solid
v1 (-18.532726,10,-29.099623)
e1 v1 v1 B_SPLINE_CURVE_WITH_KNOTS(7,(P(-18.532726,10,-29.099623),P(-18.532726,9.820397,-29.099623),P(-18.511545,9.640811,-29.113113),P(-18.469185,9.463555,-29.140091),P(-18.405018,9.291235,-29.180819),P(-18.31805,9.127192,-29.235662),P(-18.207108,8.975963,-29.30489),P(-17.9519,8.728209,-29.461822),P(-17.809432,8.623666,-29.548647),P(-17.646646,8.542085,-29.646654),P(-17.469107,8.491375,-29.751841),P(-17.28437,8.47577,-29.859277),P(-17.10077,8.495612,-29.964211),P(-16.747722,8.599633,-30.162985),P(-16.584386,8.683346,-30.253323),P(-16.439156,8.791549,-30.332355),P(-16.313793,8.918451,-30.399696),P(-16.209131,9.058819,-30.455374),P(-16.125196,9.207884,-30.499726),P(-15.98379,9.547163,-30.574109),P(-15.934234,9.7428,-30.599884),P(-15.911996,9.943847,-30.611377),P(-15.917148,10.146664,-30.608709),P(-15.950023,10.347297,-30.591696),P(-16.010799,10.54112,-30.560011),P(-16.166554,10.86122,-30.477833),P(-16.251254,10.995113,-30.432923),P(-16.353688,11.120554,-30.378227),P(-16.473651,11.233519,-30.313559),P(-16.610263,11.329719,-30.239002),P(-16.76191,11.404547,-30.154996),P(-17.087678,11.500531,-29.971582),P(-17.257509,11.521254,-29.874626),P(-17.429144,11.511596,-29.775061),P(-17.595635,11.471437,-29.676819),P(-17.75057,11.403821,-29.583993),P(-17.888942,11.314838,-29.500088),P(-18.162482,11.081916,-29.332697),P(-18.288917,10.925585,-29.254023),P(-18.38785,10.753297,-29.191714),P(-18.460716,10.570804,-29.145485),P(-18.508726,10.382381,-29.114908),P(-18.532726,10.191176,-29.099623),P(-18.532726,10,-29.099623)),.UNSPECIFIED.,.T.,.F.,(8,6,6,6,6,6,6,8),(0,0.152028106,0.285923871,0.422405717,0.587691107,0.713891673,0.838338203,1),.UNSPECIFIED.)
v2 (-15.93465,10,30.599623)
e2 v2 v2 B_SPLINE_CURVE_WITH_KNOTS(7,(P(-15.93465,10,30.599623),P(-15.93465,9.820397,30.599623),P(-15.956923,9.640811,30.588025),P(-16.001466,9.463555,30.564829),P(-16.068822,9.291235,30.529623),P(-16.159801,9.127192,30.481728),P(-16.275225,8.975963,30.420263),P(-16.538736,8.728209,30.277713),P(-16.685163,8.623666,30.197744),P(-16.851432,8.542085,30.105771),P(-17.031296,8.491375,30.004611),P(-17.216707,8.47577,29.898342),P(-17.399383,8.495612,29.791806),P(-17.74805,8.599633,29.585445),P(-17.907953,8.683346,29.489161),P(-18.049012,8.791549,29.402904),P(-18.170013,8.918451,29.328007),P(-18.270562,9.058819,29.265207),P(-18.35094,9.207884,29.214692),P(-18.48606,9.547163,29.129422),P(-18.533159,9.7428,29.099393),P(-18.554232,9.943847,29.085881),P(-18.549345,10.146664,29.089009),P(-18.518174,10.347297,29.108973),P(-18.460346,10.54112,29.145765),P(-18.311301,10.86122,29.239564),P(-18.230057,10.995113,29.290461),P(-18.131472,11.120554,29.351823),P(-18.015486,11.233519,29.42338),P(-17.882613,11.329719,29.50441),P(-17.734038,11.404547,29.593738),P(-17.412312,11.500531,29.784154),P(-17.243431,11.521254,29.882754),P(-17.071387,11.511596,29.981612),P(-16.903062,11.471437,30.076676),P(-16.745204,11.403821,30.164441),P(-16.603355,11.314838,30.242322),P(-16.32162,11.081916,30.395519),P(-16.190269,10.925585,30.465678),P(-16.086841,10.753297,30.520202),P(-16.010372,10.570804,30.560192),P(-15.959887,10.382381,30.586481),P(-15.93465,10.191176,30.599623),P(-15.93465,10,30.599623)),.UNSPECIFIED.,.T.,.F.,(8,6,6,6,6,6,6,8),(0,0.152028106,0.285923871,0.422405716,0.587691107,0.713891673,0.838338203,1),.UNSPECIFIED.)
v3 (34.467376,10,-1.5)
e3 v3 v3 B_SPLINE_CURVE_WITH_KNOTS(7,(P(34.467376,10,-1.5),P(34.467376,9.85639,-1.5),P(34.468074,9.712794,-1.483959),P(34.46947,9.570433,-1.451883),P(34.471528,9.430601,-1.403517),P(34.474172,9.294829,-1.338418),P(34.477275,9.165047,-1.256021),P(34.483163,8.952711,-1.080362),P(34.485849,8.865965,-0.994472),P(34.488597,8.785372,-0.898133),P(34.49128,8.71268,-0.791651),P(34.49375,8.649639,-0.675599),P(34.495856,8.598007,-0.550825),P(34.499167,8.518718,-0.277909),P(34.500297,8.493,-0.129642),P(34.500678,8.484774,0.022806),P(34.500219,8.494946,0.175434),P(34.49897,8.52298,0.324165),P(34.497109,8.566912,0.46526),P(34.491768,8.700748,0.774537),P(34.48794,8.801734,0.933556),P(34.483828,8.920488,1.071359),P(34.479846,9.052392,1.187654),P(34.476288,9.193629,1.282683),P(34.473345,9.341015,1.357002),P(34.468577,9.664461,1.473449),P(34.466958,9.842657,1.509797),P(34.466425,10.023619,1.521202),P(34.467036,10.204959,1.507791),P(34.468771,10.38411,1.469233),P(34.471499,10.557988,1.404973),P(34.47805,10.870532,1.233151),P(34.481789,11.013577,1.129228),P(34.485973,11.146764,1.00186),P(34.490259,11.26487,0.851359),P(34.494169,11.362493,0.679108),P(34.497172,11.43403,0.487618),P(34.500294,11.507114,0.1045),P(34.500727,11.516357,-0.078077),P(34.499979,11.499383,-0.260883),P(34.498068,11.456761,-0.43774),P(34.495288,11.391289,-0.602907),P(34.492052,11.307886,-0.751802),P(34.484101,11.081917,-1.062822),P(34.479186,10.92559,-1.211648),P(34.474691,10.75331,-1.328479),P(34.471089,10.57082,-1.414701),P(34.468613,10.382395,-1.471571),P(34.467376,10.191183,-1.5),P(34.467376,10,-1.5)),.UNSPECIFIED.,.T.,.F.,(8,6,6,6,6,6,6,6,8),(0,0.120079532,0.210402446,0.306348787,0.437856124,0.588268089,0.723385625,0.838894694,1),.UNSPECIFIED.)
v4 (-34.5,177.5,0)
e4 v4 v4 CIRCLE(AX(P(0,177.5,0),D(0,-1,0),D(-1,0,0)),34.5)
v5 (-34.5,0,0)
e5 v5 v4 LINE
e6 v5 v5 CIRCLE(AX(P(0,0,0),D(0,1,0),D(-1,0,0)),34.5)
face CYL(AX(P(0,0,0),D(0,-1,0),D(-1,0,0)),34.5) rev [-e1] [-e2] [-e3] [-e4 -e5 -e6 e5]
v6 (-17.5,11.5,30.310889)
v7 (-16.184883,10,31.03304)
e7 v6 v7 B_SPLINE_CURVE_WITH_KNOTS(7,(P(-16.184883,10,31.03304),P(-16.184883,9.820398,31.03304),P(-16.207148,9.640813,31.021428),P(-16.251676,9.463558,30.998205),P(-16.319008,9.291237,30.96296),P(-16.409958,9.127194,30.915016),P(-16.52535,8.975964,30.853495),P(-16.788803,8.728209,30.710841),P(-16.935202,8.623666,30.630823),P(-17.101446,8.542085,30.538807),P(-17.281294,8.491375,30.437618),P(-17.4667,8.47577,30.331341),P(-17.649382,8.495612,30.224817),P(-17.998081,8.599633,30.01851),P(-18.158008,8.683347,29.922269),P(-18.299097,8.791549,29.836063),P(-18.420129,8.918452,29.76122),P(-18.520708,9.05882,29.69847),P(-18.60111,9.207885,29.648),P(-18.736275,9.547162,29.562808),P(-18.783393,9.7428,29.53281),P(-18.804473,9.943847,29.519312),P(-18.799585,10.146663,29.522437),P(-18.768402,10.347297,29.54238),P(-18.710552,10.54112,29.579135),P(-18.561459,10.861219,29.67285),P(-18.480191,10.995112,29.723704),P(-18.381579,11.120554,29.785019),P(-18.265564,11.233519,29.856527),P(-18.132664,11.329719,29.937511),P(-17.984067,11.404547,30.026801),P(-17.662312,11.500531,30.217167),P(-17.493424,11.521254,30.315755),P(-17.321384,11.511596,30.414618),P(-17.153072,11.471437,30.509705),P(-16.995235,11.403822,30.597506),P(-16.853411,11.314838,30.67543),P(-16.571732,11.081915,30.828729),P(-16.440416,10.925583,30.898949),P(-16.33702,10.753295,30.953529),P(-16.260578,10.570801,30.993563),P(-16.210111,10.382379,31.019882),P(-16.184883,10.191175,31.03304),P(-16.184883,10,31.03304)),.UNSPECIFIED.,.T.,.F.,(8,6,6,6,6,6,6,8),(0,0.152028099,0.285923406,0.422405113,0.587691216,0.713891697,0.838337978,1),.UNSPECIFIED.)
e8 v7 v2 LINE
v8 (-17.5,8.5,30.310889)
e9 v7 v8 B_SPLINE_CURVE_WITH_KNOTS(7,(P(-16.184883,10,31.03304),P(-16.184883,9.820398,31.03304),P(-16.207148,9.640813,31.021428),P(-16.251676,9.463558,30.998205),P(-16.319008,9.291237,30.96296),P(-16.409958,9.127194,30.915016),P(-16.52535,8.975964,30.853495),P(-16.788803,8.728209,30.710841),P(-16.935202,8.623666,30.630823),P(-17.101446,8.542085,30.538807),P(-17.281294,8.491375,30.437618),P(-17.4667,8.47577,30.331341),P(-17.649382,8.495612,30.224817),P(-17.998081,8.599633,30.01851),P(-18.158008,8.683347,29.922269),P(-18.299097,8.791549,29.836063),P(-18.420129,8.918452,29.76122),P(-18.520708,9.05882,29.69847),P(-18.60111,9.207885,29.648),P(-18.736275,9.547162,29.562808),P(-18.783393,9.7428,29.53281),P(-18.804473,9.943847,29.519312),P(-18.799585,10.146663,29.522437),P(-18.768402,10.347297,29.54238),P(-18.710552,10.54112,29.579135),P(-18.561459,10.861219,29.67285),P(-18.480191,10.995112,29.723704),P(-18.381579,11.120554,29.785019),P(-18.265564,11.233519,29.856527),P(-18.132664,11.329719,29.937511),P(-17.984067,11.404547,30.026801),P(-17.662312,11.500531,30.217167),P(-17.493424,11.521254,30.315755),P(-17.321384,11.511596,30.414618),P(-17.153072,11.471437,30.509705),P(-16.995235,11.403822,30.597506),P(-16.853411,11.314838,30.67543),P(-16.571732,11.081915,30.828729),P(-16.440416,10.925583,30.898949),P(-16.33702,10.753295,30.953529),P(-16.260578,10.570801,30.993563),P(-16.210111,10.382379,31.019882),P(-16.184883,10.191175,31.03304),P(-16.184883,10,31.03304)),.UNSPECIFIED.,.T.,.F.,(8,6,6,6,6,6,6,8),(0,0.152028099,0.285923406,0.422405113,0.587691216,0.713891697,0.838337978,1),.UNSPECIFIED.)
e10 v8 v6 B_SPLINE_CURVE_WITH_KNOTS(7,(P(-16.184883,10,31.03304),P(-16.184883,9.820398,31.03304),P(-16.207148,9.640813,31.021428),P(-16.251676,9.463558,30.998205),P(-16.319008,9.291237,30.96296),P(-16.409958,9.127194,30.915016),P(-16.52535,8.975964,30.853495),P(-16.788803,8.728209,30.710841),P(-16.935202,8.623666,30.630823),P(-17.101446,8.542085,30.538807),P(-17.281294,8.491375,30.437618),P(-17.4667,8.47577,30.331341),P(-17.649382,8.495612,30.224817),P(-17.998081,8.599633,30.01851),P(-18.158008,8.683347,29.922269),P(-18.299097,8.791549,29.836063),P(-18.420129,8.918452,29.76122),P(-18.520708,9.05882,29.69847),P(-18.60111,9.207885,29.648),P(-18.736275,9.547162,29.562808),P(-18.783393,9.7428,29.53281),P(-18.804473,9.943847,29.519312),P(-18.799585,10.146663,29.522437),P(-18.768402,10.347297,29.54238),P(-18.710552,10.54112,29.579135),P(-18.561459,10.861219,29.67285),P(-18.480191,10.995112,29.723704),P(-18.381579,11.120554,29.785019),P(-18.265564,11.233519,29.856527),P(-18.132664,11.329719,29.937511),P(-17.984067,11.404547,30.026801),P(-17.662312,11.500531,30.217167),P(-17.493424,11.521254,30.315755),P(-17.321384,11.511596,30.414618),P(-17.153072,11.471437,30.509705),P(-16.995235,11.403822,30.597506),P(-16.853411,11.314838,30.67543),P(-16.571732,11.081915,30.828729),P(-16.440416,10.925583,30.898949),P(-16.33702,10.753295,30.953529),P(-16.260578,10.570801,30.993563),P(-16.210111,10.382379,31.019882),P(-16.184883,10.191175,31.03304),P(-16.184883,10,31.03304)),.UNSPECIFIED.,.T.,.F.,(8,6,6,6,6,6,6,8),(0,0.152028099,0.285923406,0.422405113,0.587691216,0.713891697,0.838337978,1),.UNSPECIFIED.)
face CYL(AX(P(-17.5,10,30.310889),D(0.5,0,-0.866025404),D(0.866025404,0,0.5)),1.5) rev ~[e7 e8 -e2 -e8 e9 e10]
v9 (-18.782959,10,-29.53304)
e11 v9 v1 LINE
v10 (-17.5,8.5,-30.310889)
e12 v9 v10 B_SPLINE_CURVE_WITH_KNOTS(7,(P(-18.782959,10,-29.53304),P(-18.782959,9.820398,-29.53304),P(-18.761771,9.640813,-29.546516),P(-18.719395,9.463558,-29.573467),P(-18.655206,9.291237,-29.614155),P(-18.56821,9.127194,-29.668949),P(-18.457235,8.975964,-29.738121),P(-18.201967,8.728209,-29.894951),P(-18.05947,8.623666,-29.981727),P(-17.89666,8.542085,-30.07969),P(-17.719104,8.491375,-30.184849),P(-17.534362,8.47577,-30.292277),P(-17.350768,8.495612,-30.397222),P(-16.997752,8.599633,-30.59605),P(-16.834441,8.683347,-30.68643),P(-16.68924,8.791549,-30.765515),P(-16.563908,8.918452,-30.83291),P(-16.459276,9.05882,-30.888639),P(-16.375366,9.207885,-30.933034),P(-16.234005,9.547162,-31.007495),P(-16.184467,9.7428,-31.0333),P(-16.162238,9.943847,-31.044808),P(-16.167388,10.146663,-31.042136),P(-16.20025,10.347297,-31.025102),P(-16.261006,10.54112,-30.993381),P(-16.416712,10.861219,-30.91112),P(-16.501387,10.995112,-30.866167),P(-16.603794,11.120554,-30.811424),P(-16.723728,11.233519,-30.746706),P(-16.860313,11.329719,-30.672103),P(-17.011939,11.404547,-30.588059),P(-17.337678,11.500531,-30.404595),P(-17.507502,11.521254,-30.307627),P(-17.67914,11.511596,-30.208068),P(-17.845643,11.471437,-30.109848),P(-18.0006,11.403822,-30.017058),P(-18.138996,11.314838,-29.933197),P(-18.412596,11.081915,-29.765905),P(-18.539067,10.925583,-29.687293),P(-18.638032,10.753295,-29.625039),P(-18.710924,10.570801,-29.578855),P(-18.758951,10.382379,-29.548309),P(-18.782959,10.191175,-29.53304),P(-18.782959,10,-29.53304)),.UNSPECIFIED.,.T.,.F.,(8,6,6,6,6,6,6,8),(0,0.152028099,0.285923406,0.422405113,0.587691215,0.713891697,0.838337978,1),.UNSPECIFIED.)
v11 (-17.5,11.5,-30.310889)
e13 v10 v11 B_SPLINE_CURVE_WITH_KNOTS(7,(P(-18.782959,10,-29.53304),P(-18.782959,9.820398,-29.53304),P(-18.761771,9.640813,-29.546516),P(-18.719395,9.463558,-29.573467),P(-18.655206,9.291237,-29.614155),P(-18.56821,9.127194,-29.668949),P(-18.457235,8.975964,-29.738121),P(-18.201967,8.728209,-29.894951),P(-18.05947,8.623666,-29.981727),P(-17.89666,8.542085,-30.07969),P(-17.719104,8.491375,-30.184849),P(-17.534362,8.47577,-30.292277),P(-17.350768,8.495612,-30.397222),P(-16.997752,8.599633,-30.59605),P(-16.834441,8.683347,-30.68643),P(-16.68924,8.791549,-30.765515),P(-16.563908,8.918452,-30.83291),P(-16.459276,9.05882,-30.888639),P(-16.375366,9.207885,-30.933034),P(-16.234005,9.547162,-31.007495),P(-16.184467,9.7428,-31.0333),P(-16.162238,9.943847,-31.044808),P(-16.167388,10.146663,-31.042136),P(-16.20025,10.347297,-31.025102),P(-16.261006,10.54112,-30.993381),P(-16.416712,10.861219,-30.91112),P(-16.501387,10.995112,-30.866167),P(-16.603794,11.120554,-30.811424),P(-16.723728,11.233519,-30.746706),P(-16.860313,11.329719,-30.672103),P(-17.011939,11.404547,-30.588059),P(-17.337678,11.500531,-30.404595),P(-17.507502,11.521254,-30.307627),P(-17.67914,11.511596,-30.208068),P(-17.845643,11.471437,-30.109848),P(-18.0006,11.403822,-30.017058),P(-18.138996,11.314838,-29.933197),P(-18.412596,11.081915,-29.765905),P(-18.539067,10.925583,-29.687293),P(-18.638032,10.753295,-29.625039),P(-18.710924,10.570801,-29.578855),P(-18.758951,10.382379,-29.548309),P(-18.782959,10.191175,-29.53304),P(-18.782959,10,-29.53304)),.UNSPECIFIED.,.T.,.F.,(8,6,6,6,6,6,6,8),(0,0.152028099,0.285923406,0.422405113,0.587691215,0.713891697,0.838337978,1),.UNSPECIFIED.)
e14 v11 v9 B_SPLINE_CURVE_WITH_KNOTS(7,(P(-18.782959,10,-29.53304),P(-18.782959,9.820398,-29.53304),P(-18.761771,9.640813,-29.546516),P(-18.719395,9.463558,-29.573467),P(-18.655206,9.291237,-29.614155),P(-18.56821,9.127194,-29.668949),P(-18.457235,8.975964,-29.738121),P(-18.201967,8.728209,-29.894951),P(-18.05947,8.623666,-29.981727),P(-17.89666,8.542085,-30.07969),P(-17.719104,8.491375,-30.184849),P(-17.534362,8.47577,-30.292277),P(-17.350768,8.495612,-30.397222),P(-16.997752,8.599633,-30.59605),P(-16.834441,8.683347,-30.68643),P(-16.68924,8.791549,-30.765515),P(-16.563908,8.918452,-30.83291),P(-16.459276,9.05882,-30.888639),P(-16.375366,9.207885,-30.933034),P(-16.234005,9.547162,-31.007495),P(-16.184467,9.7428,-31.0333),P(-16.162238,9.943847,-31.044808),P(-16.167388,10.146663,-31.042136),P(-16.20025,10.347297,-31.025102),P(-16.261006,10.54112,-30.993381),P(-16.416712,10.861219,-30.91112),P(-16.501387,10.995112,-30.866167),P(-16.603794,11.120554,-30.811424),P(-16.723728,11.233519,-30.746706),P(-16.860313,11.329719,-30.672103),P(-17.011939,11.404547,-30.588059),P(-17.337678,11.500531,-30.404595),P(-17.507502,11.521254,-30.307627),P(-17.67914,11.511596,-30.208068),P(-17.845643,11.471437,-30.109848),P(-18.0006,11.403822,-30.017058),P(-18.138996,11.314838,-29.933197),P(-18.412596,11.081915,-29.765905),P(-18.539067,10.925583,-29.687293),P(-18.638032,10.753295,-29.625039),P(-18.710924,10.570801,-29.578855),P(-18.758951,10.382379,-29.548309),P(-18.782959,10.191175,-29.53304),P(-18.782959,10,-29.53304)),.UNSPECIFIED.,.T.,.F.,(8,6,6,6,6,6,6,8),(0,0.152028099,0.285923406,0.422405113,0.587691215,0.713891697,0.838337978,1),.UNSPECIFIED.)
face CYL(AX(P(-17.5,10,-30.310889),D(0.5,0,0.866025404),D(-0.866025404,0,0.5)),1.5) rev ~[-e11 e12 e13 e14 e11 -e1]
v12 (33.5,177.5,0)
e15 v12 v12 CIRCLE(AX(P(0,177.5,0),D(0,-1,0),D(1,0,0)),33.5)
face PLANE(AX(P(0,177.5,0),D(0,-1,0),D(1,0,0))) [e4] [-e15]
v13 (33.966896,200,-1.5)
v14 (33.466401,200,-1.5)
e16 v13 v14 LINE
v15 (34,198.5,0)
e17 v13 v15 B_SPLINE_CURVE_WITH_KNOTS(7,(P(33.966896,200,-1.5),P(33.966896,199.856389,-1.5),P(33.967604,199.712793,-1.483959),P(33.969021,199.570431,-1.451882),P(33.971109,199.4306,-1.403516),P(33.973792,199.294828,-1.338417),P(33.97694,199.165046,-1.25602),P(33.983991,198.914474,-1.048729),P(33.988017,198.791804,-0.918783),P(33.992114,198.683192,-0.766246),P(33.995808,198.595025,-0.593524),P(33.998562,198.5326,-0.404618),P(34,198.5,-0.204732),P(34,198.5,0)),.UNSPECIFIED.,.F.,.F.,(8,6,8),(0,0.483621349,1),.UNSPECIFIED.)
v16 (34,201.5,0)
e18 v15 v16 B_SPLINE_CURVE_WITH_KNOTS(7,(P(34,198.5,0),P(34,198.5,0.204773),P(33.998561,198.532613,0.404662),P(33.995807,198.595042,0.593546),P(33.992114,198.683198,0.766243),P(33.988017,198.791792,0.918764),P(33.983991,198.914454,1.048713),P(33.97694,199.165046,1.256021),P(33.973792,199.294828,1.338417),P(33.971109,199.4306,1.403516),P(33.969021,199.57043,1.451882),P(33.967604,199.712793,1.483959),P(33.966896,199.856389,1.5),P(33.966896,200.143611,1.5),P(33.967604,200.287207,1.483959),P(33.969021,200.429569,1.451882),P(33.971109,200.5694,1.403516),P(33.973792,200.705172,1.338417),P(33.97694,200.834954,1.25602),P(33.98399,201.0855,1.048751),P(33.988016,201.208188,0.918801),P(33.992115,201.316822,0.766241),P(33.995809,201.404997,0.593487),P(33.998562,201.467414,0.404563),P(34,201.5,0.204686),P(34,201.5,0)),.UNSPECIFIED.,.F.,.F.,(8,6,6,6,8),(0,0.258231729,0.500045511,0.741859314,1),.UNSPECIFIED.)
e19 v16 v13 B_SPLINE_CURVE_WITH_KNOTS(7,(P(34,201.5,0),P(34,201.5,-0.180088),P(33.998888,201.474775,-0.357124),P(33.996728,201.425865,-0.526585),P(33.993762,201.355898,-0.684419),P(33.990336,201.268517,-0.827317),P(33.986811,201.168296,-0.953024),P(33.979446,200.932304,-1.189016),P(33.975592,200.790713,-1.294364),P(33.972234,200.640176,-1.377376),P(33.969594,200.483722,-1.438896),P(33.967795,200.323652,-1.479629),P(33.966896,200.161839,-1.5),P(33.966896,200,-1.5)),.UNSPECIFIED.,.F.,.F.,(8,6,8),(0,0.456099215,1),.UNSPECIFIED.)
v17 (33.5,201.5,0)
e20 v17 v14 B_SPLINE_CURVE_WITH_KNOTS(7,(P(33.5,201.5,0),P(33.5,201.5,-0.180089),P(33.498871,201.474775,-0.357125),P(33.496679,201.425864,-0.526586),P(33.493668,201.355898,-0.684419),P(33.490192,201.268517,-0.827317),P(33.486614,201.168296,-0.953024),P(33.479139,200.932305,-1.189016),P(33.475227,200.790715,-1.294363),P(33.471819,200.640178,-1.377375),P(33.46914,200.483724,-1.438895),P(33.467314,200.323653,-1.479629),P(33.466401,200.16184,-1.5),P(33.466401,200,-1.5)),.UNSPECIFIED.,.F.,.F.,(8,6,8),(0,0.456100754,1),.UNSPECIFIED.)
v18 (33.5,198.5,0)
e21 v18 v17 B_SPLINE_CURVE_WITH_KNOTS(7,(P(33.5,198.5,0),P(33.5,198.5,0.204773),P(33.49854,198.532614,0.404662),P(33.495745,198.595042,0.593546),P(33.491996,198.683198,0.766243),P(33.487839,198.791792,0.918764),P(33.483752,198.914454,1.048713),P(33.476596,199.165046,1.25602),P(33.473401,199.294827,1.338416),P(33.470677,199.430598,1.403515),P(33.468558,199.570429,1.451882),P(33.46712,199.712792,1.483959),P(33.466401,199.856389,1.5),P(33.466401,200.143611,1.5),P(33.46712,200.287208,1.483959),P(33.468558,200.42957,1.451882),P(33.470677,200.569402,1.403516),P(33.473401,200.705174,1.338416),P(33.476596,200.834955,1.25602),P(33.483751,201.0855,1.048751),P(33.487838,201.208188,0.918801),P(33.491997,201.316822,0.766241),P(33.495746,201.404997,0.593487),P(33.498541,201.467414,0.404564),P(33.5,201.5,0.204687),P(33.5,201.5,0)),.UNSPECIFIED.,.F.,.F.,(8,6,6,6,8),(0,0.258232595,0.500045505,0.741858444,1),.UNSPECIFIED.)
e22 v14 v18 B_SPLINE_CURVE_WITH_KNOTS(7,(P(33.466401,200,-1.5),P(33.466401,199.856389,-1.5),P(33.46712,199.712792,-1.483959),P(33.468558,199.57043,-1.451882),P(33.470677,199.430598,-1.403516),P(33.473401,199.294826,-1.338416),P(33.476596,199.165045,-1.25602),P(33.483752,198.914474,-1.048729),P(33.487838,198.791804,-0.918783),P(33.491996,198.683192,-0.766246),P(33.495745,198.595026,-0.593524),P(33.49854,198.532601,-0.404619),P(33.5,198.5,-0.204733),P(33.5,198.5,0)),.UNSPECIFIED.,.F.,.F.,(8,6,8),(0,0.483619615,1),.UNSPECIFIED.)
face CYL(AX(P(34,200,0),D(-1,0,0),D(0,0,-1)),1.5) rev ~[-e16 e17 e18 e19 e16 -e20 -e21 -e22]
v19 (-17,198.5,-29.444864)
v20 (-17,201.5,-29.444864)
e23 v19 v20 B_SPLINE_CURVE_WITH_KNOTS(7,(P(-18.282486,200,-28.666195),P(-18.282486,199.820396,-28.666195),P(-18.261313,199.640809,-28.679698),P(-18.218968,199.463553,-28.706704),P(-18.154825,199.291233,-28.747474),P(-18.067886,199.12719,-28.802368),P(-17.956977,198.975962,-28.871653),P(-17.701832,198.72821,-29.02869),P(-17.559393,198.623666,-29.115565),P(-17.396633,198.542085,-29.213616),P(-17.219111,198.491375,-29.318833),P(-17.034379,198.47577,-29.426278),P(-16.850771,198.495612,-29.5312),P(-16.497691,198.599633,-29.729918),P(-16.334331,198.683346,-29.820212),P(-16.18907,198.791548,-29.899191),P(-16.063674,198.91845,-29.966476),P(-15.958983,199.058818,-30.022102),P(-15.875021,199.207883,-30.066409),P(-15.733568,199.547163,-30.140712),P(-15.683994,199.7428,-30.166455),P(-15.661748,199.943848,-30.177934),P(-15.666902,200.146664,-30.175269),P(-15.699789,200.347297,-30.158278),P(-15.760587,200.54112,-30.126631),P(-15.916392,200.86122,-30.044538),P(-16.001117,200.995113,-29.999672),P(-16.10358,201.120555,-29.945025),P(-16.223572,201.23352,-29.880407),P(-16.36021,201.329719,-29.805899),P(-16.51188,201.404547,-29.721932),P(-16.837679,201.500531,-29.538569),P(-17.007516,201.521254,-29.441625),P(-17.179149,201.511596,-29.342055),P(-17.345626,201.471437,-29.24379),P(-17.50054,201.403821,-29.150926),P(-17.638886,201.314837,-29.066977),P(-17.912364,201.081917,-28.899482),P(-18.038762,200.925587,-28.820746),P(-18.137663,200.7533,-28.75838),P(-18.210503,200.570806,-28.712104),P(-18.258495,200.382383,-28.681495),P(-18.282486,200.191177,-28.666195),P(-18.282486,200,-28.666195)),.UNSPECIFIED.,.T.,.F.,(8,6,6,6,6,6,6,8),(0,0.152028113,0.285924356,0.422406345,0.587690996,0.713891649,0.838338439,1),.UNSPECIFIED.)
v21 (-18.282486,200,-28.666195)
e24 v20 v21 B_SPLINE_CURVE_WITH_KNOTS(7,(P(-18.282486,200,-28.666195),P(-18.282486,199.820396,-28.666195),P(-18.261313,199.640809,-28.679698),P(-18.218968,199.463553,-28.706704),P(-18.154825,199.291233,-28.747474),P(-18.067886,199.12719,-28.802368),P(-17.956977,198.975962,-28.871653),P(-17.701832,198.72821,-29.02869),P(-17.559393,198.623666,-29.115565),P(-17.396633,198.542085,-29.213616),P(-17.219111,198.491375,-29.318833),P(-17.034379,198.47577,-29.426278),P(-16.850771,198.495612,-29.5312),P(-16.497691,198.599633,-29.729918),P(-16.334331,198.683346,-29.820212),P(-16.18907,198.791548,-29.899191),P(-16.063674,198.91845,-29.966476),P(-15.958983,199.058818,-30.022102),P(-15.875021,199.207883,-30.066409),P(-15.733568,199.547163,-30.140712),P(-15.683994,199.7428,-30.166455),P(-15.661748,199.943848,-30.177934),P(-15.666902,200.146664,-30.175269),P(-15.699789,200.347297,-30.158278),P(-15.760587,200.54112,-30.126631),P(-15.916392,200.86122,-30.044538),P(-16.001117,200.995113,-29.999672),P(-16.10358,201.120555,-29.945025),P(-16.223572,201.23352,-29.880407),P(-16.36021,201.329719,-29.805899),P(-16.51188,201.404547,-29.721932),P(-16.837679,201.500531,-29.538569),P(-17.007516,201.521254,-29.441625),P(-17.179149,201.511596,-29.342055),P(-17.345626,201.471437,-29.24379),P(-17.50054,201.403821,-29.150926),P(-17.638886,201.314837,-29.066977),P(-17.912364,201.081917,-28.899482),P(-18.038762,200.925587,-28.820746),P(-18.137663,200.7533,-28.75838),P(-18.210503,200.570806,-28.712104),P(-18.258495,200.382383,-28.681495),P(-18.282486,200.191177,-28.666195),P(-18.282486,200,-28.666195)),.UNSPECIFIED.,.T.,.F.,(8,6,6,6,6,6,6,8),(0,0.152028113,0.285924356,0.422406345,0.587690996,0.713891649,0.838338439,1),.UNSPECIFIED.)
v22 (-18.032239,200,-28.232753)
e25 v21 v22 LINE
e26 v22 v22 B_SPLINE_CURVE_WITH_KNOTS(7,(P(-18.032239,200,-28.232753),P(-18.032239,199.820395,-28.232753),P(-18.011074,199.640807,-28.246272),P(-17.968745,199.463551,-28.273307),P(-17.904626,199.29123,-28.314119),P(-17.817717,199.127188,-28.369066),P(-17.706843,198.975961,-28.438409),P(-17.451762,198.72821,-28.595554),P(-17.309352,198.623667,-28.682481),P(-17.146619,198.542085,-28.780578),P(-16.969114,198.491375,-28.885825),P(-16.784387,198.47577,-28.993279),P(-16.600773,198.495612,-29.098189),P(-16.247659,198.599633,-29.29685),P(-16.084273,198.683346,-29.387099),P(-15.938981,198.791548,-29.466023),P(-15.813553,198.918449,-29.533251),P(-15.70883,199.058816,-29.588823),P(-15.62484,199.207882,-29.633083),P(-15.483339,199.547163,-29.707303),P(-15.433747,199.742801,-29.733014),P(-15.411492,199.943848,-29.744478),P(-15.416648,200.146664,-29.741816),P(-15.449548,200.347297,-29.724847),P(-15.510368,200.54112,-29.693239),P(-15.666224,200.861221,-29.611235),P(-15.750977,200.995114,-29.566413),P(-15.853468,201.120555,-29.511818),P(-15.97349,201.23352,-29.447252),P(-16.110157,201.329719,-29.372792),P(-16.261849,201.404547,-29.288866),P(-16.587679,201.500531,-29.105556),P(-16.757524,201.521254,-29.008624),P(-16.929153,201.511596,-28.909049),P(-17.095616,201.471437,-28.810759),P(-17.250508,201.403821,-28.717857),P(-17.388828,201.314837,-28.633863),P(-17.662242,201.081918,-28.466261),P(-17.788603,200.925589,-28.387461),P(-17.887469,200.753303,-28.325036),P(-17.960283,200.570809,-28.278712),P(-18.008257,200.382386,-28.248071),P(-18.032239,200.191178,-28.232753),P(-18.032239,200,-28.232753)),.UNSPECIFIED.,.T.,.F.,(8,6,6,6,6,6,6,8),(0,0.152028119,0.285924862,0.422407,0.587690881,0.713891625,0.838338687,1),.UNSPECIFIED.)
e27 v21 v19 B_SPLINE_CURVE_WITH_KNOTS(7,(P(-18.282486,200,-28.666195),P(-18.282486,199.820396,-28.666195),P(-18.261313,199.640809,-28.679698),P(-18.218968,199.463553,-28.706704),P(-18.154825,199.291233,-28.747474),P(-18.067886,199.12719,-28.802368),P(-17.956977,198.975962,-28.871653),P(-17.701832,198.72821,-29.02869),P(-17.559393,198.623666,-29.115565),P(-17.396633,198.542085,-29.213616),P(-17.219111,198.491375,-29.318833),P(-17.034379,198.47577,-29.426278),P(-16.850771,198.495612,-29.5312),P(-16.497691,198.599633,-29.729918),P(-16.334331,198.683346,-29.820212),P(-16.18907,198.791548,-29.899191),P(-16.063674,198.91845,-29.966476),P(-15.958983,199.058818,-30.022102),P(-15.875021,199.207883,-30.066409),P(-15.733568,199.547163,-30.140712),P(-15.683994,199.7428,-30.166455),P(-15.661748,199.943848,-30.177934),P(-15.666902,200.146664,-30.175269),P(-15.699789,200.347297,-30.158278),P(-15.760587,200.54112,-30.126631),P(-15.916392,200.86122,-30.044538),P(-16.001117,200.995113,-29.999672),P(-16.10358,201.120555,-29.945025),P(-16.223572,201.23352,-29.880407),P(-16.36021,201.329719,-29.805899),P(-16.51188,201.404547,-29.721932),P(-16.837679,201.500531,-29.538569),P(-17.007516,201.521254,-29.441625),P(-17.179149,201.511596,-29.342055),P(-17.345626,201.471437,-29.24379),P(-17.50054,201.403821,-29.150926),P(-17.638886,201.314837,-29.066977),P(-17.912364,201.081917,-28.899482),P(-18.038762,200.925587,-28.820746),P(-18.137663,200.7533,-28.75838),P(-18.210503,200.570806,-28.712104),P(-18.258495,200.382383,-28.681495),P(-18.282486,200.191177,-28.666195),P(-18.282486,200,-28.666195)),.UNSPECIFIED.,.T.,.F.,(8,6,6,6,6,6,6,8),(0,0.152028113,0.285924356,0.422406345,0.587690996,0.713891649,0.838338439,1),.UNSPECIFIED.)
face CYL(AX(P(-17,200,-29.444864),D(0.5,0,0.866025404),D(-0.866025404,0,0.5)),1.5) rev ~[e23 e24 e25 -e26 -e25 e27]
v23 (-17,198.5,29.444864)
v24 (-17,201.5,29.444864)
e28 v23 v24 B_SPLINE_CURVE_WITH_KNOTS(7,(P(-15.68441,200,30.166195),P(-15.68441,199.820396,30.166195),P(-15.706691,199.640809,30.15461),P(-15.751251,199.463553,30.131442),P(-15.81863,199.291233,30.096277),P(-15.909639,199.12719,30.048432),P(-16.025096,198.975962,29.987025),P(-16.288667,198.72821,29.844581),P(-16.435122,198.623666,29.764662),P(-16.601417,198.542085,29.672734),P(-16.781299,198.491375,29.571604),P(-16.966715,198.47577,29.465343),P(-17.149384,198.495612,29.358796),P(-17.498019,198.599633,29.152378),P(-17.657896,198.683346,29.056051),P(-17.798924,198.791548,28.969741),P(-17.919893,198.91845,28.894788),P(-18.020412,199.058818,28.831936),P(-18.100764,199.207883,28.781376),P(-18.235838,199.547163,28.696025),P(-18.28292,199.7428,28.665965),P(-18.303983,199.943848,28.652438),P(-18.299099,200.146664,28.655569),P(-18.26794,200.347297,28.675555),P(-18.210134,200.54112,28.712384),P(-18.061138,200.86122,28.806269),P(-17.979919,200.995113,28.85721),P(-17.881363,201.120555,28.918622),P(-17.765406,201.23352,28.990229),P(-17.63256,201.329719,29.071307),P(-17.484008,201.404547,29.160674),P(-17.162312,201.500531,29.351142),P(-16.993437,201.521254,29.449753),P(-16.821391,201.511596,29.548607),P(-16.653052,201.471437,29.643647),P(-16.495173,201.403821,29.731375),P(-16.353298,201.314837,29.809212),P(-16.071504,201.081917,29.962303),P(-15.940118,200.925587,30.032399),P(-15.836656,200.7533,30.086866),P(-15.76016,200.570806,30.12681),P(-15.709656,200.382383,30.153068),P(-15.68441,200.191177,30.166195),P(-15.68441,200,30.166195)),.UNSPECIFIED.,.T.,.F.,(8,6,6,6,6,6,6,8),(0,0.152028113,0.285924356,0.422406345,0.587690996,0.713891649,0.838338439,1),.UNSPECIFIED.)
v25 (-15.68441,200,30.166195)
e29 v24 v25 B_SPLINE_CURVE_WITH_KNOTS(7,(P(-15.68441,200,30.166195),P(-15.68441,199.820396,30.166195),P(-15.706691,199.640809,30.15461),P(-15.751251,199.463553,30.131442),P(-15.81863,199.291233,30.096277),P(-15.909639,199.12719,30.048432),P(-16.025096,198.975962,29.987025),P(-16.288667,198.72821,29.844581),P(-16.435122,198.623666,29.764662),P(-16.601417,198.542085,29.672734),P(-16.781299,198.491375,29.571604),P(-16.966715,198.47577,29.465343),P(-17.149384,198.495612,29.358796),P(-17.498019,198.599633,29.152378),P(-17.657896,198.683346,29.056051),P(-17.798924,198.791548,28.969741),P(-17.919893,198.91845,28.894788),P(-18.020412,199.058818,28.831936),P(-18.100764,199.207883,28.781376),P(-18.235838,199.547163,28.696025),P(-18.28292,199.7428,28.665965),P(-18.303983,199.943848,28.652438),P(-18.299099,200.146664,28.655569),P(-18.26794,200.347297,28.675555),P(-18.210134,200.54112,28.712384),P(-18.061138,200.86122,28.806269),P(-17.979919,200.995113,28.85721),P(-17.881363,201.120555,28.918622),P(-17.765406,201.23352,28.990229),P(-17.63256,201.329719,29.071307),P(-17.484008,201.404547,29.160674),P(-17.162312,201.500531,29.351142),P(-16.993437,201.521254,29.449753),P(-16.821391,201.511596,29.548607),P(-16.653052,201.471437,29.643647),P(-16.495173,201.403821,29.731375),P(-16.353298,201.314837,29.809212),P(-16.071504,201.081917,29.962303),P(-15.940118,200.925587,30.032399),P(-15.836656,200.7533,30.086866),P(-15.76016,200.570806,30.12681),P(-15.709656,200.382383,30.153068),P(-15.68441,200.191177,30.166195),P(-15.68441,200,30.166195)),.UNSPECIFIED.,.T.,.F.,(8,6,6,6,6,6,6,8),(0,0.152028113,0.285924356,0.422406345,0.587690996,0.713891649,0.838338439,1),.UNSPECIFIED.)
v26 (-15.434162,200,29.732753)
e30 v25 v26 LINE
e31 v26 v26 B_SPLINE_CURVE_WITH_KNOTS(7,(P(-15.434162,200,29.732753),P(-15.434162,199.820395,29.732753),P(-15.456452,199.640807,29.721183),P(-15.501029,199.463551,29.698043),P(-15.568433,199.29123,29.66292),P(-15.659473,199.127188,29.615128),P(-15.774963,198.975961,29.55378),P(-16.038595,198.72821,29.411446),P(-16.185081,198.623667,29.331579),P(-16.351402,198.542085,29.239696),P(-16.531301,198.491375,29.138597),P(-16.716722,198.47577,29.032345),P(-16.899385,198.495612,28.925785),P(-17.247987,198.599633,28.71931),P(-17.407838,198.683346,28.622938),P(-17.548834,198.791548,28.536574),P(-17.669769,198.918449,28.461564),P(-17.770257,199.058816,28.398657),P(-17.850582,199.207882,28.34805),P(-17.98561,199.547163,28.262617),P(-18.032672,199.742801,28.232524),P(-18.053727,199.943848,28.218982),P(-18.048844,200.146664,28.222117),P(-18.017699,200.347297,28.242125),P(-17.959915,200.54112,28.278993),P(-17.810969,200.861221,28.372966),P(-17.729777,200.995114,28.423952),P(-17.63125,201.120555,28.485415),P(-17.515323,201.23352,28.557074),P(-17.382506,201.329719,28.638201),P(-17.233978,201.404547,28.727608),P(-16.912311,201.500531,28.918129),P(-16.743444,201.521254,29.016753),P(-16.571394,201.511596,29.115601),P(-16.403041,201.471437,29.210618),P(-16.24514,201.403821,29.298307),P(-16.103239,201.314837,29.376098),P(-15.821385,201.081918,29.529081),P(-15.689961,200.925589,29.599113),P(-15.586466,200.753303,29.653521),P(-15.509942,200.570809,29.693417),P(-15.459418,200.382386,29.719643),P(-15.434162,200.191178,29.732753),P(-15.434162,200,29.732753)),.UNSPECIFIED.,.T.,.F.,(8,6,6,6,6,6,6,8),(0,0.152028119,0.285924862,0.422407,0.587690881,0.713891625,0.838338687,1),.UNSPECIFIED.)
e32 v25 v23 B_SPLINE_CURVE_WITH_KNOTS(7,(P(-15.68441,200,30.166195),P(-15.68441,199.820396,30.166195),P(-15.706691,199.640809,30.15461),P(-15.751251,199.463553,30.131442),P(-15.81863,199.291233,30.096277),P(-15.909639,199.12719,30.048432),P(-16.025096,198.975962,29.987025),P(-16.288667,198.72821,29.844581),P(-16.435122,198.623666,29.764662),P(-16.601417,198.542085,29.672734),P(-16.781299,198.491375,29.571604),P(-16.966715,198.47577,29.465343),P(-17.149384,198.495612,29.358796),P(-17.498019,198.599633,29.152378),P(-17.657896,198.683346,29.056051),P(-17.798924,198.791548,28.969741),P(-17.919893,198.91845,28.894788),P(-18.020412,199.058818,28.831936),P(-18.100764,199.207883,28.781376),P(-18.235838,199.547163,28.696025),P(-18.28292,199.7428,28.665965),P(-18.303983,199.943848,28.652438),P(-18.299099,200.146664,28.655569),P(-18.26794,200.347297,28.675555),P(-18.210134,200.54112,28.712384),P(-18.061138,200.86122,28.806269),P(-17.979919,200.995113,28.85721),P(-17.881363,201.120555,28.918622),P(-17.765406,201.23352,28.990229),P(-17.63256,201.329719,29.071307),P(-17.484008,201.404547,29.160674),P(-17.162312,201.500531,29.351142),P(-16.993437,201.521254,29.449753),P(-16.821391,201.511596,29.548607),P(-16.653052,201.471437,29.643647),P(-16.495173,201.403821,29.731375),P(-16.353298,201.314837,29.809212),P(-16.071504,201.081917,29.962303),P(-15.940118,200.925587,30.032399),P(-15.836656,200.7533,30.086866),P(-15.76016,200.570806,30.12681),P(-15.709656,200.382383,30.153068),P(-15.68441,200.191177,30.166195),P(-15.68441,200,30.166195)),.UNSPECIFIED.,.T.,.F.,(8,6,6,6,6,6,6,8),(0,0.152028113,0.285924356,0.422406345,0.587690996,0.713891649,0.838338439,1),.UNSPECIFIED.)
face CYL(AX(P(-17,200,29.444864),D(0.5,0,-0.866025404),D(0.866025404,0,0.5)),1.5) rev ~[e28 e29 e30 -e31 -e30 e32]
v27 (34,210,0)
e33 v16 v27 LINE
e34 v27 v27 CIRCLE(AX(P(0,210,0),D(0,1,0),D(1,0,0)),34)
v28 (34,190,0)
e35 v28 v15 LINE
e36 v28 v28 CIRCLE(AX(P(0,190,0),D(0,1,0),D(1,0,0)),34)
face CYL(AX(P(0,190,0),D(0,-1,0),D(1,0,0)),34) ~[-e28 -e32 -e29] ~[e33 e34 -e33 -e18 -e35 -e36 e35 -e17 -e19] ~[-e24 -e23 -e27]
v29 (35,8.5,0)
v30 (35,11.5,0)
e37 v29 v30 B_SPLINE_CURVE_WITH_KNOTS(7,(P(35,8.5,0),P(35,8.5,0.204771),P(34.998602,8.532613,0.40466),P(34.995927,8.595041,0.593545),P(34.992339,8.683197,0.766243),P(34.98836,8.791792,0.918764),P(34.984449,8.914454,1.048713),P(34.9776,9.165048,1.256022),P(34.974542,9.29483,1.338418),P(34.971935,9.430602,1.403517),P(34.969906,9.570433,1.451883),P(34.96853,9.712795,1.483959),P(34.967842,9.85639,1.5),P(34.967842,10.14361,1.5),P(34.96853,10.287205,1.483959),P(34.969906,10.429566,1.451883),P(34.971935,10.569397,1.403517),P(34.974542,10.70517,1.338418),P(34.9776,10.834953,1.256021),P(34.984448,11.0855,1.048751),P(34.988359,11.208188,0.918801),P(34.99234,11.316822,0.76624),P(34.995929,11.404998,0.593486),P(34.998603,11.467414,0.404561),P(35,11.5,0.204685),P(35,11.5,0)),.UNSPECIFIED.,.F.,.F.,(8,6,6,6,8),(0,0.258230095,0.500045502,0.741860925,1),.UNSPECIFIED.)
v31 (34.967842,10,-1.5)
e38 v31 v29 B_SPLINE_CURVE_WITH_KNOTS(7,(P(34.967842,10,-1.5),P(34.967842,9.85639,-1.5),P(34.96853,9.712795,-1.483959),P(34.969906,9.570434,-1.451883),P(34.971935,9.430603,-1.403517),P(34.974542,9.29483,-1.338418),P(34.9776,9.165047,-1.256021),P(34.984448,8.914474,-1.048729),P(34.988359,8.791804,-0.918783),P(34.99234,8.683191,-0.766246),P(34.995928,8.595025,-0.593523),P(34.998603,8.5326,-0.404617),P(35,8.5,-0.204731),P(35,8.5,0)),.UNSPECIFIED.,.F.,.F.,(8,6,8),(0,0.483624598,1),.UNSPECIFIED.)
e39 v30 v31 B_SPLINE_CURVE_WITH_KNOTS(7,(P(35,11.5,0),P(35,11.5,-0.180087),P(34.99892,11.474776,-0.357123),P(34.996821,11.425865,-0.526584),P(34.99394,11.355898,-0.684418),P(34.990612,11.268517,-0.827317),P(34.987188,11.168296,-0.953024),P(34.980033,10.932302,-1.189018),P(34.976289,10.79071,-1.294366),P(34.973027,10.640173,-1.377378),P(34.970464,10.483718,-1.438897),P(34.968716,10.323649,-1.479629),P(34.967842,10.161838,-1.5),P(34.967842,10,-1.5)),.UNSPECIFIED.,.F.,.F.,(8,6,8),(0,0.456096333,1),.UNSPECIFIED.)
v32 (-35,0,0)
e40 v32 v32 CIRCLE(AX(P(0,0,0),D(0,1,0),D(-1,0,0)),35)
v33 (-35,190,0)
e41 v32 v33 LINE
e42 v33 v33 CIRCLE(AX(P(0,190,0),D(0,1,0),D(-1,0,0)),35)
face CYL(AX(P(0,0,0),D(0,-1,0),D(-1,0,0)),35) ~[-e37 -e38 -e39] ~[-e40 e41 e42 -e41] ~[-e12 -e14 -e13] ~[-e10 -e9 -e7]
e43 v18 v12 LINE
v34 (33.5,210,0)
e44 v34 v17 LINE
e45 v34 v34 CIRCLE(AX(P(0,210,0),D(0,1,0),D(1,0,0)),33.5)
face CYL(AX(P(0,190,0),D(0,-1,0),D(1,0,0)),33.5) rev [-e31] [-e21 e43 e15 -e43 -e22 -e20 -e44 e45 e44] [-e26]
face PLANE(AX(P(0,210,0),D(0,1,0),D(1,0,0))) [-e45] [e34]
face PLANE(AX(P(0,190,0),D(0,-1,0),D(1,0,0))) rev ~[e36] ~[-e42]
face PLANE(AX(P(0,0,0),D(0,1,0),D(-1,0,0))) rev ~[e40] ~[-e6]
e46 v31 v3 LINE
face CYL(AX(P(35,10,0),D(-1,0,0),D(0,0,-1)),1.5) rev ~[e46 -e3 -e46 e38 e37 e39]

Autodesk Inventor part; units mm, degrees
ref_plane "XZ Plane" through (0, 0, 0) normal (0, 1, 0) x (-1, 0, 0)
sketch "Sketch1" plane through (0, 0, 0) normal (0, 1, 0) x (-1, 0, 0)
  circle A0 centre (0, 0) radius 35
  circle A1 centre (0, 0) radius 34.5
  dimension "d0" = 70
  dimension "d1" = 69
extrude "Extrusion1" add sketch "Sketch1" along normal blind 190
ref_plane "Work Plane2" through (35, 0, 0) normal (1, 0, 0) x (0, 1, 0)
sketch "Sketch4" plane through (35, 0, 0) normal (1, 0, 0) x (0, 1, 0)
  line L0 (190, -35) -> (190, 35) projected
  point P0 (0, 0)
  point P1 (10, 0)
  dimension "d48" = 10
hole "Hole2" at (35, 10, 0) direction (-1, 0, 0) diameter 3 depth 8 tip angle 118
sketch "Sketch5" plane through (0, 190, 0) normal (0, 1, 0) x (1, 0, 0)
  circle A0 centre (0, 0) radius 34
  circle A1 centre (0, 0) radius 33.5
  dimension "d44" = 68
  dimension "d45" = 67
extrude "Extrusion3" add sketch "Sketch5" along normal blind 20
sketch "Sketch6" plane through (0, 190, 0) normal (0, -1, 0) x (1, 0, 0)
  circle A0 centre (0, 0) radius 33.5
  circle A1 centre (0, 0) radius 34.5 projected
  circle A2 centre (0, 0) radius 35
extrude "Extrusion4" add sketch "Sketch6" along normal blind 12.5 contours A1
ref_plane "Work Plane4" through (34, 0, 0) normal (1, 0, 0) x (0, 1, 0)
sketch "Sketch8" plane through (34, 0, 0) normal (1, 0, 0) x (0, 1, 0)
  line L0 (210, -34) -> (210, 34) projected
  point P0 (0, 0)
  point P1 (200, 0)
  dimension "d61" = 10
hole "Hole4" at (34, 200, 0) direction (-1, 0, 0) diameter 3 depth 8 tip angle 118
pattern_circular "Circular Pattern2" count 3 over 360 about axis through (0, 0, 0) along (0, 1, 0) of "Hole2", "Hole4"
properties part number "Lower skin" material "Plastic, Opaque White"
